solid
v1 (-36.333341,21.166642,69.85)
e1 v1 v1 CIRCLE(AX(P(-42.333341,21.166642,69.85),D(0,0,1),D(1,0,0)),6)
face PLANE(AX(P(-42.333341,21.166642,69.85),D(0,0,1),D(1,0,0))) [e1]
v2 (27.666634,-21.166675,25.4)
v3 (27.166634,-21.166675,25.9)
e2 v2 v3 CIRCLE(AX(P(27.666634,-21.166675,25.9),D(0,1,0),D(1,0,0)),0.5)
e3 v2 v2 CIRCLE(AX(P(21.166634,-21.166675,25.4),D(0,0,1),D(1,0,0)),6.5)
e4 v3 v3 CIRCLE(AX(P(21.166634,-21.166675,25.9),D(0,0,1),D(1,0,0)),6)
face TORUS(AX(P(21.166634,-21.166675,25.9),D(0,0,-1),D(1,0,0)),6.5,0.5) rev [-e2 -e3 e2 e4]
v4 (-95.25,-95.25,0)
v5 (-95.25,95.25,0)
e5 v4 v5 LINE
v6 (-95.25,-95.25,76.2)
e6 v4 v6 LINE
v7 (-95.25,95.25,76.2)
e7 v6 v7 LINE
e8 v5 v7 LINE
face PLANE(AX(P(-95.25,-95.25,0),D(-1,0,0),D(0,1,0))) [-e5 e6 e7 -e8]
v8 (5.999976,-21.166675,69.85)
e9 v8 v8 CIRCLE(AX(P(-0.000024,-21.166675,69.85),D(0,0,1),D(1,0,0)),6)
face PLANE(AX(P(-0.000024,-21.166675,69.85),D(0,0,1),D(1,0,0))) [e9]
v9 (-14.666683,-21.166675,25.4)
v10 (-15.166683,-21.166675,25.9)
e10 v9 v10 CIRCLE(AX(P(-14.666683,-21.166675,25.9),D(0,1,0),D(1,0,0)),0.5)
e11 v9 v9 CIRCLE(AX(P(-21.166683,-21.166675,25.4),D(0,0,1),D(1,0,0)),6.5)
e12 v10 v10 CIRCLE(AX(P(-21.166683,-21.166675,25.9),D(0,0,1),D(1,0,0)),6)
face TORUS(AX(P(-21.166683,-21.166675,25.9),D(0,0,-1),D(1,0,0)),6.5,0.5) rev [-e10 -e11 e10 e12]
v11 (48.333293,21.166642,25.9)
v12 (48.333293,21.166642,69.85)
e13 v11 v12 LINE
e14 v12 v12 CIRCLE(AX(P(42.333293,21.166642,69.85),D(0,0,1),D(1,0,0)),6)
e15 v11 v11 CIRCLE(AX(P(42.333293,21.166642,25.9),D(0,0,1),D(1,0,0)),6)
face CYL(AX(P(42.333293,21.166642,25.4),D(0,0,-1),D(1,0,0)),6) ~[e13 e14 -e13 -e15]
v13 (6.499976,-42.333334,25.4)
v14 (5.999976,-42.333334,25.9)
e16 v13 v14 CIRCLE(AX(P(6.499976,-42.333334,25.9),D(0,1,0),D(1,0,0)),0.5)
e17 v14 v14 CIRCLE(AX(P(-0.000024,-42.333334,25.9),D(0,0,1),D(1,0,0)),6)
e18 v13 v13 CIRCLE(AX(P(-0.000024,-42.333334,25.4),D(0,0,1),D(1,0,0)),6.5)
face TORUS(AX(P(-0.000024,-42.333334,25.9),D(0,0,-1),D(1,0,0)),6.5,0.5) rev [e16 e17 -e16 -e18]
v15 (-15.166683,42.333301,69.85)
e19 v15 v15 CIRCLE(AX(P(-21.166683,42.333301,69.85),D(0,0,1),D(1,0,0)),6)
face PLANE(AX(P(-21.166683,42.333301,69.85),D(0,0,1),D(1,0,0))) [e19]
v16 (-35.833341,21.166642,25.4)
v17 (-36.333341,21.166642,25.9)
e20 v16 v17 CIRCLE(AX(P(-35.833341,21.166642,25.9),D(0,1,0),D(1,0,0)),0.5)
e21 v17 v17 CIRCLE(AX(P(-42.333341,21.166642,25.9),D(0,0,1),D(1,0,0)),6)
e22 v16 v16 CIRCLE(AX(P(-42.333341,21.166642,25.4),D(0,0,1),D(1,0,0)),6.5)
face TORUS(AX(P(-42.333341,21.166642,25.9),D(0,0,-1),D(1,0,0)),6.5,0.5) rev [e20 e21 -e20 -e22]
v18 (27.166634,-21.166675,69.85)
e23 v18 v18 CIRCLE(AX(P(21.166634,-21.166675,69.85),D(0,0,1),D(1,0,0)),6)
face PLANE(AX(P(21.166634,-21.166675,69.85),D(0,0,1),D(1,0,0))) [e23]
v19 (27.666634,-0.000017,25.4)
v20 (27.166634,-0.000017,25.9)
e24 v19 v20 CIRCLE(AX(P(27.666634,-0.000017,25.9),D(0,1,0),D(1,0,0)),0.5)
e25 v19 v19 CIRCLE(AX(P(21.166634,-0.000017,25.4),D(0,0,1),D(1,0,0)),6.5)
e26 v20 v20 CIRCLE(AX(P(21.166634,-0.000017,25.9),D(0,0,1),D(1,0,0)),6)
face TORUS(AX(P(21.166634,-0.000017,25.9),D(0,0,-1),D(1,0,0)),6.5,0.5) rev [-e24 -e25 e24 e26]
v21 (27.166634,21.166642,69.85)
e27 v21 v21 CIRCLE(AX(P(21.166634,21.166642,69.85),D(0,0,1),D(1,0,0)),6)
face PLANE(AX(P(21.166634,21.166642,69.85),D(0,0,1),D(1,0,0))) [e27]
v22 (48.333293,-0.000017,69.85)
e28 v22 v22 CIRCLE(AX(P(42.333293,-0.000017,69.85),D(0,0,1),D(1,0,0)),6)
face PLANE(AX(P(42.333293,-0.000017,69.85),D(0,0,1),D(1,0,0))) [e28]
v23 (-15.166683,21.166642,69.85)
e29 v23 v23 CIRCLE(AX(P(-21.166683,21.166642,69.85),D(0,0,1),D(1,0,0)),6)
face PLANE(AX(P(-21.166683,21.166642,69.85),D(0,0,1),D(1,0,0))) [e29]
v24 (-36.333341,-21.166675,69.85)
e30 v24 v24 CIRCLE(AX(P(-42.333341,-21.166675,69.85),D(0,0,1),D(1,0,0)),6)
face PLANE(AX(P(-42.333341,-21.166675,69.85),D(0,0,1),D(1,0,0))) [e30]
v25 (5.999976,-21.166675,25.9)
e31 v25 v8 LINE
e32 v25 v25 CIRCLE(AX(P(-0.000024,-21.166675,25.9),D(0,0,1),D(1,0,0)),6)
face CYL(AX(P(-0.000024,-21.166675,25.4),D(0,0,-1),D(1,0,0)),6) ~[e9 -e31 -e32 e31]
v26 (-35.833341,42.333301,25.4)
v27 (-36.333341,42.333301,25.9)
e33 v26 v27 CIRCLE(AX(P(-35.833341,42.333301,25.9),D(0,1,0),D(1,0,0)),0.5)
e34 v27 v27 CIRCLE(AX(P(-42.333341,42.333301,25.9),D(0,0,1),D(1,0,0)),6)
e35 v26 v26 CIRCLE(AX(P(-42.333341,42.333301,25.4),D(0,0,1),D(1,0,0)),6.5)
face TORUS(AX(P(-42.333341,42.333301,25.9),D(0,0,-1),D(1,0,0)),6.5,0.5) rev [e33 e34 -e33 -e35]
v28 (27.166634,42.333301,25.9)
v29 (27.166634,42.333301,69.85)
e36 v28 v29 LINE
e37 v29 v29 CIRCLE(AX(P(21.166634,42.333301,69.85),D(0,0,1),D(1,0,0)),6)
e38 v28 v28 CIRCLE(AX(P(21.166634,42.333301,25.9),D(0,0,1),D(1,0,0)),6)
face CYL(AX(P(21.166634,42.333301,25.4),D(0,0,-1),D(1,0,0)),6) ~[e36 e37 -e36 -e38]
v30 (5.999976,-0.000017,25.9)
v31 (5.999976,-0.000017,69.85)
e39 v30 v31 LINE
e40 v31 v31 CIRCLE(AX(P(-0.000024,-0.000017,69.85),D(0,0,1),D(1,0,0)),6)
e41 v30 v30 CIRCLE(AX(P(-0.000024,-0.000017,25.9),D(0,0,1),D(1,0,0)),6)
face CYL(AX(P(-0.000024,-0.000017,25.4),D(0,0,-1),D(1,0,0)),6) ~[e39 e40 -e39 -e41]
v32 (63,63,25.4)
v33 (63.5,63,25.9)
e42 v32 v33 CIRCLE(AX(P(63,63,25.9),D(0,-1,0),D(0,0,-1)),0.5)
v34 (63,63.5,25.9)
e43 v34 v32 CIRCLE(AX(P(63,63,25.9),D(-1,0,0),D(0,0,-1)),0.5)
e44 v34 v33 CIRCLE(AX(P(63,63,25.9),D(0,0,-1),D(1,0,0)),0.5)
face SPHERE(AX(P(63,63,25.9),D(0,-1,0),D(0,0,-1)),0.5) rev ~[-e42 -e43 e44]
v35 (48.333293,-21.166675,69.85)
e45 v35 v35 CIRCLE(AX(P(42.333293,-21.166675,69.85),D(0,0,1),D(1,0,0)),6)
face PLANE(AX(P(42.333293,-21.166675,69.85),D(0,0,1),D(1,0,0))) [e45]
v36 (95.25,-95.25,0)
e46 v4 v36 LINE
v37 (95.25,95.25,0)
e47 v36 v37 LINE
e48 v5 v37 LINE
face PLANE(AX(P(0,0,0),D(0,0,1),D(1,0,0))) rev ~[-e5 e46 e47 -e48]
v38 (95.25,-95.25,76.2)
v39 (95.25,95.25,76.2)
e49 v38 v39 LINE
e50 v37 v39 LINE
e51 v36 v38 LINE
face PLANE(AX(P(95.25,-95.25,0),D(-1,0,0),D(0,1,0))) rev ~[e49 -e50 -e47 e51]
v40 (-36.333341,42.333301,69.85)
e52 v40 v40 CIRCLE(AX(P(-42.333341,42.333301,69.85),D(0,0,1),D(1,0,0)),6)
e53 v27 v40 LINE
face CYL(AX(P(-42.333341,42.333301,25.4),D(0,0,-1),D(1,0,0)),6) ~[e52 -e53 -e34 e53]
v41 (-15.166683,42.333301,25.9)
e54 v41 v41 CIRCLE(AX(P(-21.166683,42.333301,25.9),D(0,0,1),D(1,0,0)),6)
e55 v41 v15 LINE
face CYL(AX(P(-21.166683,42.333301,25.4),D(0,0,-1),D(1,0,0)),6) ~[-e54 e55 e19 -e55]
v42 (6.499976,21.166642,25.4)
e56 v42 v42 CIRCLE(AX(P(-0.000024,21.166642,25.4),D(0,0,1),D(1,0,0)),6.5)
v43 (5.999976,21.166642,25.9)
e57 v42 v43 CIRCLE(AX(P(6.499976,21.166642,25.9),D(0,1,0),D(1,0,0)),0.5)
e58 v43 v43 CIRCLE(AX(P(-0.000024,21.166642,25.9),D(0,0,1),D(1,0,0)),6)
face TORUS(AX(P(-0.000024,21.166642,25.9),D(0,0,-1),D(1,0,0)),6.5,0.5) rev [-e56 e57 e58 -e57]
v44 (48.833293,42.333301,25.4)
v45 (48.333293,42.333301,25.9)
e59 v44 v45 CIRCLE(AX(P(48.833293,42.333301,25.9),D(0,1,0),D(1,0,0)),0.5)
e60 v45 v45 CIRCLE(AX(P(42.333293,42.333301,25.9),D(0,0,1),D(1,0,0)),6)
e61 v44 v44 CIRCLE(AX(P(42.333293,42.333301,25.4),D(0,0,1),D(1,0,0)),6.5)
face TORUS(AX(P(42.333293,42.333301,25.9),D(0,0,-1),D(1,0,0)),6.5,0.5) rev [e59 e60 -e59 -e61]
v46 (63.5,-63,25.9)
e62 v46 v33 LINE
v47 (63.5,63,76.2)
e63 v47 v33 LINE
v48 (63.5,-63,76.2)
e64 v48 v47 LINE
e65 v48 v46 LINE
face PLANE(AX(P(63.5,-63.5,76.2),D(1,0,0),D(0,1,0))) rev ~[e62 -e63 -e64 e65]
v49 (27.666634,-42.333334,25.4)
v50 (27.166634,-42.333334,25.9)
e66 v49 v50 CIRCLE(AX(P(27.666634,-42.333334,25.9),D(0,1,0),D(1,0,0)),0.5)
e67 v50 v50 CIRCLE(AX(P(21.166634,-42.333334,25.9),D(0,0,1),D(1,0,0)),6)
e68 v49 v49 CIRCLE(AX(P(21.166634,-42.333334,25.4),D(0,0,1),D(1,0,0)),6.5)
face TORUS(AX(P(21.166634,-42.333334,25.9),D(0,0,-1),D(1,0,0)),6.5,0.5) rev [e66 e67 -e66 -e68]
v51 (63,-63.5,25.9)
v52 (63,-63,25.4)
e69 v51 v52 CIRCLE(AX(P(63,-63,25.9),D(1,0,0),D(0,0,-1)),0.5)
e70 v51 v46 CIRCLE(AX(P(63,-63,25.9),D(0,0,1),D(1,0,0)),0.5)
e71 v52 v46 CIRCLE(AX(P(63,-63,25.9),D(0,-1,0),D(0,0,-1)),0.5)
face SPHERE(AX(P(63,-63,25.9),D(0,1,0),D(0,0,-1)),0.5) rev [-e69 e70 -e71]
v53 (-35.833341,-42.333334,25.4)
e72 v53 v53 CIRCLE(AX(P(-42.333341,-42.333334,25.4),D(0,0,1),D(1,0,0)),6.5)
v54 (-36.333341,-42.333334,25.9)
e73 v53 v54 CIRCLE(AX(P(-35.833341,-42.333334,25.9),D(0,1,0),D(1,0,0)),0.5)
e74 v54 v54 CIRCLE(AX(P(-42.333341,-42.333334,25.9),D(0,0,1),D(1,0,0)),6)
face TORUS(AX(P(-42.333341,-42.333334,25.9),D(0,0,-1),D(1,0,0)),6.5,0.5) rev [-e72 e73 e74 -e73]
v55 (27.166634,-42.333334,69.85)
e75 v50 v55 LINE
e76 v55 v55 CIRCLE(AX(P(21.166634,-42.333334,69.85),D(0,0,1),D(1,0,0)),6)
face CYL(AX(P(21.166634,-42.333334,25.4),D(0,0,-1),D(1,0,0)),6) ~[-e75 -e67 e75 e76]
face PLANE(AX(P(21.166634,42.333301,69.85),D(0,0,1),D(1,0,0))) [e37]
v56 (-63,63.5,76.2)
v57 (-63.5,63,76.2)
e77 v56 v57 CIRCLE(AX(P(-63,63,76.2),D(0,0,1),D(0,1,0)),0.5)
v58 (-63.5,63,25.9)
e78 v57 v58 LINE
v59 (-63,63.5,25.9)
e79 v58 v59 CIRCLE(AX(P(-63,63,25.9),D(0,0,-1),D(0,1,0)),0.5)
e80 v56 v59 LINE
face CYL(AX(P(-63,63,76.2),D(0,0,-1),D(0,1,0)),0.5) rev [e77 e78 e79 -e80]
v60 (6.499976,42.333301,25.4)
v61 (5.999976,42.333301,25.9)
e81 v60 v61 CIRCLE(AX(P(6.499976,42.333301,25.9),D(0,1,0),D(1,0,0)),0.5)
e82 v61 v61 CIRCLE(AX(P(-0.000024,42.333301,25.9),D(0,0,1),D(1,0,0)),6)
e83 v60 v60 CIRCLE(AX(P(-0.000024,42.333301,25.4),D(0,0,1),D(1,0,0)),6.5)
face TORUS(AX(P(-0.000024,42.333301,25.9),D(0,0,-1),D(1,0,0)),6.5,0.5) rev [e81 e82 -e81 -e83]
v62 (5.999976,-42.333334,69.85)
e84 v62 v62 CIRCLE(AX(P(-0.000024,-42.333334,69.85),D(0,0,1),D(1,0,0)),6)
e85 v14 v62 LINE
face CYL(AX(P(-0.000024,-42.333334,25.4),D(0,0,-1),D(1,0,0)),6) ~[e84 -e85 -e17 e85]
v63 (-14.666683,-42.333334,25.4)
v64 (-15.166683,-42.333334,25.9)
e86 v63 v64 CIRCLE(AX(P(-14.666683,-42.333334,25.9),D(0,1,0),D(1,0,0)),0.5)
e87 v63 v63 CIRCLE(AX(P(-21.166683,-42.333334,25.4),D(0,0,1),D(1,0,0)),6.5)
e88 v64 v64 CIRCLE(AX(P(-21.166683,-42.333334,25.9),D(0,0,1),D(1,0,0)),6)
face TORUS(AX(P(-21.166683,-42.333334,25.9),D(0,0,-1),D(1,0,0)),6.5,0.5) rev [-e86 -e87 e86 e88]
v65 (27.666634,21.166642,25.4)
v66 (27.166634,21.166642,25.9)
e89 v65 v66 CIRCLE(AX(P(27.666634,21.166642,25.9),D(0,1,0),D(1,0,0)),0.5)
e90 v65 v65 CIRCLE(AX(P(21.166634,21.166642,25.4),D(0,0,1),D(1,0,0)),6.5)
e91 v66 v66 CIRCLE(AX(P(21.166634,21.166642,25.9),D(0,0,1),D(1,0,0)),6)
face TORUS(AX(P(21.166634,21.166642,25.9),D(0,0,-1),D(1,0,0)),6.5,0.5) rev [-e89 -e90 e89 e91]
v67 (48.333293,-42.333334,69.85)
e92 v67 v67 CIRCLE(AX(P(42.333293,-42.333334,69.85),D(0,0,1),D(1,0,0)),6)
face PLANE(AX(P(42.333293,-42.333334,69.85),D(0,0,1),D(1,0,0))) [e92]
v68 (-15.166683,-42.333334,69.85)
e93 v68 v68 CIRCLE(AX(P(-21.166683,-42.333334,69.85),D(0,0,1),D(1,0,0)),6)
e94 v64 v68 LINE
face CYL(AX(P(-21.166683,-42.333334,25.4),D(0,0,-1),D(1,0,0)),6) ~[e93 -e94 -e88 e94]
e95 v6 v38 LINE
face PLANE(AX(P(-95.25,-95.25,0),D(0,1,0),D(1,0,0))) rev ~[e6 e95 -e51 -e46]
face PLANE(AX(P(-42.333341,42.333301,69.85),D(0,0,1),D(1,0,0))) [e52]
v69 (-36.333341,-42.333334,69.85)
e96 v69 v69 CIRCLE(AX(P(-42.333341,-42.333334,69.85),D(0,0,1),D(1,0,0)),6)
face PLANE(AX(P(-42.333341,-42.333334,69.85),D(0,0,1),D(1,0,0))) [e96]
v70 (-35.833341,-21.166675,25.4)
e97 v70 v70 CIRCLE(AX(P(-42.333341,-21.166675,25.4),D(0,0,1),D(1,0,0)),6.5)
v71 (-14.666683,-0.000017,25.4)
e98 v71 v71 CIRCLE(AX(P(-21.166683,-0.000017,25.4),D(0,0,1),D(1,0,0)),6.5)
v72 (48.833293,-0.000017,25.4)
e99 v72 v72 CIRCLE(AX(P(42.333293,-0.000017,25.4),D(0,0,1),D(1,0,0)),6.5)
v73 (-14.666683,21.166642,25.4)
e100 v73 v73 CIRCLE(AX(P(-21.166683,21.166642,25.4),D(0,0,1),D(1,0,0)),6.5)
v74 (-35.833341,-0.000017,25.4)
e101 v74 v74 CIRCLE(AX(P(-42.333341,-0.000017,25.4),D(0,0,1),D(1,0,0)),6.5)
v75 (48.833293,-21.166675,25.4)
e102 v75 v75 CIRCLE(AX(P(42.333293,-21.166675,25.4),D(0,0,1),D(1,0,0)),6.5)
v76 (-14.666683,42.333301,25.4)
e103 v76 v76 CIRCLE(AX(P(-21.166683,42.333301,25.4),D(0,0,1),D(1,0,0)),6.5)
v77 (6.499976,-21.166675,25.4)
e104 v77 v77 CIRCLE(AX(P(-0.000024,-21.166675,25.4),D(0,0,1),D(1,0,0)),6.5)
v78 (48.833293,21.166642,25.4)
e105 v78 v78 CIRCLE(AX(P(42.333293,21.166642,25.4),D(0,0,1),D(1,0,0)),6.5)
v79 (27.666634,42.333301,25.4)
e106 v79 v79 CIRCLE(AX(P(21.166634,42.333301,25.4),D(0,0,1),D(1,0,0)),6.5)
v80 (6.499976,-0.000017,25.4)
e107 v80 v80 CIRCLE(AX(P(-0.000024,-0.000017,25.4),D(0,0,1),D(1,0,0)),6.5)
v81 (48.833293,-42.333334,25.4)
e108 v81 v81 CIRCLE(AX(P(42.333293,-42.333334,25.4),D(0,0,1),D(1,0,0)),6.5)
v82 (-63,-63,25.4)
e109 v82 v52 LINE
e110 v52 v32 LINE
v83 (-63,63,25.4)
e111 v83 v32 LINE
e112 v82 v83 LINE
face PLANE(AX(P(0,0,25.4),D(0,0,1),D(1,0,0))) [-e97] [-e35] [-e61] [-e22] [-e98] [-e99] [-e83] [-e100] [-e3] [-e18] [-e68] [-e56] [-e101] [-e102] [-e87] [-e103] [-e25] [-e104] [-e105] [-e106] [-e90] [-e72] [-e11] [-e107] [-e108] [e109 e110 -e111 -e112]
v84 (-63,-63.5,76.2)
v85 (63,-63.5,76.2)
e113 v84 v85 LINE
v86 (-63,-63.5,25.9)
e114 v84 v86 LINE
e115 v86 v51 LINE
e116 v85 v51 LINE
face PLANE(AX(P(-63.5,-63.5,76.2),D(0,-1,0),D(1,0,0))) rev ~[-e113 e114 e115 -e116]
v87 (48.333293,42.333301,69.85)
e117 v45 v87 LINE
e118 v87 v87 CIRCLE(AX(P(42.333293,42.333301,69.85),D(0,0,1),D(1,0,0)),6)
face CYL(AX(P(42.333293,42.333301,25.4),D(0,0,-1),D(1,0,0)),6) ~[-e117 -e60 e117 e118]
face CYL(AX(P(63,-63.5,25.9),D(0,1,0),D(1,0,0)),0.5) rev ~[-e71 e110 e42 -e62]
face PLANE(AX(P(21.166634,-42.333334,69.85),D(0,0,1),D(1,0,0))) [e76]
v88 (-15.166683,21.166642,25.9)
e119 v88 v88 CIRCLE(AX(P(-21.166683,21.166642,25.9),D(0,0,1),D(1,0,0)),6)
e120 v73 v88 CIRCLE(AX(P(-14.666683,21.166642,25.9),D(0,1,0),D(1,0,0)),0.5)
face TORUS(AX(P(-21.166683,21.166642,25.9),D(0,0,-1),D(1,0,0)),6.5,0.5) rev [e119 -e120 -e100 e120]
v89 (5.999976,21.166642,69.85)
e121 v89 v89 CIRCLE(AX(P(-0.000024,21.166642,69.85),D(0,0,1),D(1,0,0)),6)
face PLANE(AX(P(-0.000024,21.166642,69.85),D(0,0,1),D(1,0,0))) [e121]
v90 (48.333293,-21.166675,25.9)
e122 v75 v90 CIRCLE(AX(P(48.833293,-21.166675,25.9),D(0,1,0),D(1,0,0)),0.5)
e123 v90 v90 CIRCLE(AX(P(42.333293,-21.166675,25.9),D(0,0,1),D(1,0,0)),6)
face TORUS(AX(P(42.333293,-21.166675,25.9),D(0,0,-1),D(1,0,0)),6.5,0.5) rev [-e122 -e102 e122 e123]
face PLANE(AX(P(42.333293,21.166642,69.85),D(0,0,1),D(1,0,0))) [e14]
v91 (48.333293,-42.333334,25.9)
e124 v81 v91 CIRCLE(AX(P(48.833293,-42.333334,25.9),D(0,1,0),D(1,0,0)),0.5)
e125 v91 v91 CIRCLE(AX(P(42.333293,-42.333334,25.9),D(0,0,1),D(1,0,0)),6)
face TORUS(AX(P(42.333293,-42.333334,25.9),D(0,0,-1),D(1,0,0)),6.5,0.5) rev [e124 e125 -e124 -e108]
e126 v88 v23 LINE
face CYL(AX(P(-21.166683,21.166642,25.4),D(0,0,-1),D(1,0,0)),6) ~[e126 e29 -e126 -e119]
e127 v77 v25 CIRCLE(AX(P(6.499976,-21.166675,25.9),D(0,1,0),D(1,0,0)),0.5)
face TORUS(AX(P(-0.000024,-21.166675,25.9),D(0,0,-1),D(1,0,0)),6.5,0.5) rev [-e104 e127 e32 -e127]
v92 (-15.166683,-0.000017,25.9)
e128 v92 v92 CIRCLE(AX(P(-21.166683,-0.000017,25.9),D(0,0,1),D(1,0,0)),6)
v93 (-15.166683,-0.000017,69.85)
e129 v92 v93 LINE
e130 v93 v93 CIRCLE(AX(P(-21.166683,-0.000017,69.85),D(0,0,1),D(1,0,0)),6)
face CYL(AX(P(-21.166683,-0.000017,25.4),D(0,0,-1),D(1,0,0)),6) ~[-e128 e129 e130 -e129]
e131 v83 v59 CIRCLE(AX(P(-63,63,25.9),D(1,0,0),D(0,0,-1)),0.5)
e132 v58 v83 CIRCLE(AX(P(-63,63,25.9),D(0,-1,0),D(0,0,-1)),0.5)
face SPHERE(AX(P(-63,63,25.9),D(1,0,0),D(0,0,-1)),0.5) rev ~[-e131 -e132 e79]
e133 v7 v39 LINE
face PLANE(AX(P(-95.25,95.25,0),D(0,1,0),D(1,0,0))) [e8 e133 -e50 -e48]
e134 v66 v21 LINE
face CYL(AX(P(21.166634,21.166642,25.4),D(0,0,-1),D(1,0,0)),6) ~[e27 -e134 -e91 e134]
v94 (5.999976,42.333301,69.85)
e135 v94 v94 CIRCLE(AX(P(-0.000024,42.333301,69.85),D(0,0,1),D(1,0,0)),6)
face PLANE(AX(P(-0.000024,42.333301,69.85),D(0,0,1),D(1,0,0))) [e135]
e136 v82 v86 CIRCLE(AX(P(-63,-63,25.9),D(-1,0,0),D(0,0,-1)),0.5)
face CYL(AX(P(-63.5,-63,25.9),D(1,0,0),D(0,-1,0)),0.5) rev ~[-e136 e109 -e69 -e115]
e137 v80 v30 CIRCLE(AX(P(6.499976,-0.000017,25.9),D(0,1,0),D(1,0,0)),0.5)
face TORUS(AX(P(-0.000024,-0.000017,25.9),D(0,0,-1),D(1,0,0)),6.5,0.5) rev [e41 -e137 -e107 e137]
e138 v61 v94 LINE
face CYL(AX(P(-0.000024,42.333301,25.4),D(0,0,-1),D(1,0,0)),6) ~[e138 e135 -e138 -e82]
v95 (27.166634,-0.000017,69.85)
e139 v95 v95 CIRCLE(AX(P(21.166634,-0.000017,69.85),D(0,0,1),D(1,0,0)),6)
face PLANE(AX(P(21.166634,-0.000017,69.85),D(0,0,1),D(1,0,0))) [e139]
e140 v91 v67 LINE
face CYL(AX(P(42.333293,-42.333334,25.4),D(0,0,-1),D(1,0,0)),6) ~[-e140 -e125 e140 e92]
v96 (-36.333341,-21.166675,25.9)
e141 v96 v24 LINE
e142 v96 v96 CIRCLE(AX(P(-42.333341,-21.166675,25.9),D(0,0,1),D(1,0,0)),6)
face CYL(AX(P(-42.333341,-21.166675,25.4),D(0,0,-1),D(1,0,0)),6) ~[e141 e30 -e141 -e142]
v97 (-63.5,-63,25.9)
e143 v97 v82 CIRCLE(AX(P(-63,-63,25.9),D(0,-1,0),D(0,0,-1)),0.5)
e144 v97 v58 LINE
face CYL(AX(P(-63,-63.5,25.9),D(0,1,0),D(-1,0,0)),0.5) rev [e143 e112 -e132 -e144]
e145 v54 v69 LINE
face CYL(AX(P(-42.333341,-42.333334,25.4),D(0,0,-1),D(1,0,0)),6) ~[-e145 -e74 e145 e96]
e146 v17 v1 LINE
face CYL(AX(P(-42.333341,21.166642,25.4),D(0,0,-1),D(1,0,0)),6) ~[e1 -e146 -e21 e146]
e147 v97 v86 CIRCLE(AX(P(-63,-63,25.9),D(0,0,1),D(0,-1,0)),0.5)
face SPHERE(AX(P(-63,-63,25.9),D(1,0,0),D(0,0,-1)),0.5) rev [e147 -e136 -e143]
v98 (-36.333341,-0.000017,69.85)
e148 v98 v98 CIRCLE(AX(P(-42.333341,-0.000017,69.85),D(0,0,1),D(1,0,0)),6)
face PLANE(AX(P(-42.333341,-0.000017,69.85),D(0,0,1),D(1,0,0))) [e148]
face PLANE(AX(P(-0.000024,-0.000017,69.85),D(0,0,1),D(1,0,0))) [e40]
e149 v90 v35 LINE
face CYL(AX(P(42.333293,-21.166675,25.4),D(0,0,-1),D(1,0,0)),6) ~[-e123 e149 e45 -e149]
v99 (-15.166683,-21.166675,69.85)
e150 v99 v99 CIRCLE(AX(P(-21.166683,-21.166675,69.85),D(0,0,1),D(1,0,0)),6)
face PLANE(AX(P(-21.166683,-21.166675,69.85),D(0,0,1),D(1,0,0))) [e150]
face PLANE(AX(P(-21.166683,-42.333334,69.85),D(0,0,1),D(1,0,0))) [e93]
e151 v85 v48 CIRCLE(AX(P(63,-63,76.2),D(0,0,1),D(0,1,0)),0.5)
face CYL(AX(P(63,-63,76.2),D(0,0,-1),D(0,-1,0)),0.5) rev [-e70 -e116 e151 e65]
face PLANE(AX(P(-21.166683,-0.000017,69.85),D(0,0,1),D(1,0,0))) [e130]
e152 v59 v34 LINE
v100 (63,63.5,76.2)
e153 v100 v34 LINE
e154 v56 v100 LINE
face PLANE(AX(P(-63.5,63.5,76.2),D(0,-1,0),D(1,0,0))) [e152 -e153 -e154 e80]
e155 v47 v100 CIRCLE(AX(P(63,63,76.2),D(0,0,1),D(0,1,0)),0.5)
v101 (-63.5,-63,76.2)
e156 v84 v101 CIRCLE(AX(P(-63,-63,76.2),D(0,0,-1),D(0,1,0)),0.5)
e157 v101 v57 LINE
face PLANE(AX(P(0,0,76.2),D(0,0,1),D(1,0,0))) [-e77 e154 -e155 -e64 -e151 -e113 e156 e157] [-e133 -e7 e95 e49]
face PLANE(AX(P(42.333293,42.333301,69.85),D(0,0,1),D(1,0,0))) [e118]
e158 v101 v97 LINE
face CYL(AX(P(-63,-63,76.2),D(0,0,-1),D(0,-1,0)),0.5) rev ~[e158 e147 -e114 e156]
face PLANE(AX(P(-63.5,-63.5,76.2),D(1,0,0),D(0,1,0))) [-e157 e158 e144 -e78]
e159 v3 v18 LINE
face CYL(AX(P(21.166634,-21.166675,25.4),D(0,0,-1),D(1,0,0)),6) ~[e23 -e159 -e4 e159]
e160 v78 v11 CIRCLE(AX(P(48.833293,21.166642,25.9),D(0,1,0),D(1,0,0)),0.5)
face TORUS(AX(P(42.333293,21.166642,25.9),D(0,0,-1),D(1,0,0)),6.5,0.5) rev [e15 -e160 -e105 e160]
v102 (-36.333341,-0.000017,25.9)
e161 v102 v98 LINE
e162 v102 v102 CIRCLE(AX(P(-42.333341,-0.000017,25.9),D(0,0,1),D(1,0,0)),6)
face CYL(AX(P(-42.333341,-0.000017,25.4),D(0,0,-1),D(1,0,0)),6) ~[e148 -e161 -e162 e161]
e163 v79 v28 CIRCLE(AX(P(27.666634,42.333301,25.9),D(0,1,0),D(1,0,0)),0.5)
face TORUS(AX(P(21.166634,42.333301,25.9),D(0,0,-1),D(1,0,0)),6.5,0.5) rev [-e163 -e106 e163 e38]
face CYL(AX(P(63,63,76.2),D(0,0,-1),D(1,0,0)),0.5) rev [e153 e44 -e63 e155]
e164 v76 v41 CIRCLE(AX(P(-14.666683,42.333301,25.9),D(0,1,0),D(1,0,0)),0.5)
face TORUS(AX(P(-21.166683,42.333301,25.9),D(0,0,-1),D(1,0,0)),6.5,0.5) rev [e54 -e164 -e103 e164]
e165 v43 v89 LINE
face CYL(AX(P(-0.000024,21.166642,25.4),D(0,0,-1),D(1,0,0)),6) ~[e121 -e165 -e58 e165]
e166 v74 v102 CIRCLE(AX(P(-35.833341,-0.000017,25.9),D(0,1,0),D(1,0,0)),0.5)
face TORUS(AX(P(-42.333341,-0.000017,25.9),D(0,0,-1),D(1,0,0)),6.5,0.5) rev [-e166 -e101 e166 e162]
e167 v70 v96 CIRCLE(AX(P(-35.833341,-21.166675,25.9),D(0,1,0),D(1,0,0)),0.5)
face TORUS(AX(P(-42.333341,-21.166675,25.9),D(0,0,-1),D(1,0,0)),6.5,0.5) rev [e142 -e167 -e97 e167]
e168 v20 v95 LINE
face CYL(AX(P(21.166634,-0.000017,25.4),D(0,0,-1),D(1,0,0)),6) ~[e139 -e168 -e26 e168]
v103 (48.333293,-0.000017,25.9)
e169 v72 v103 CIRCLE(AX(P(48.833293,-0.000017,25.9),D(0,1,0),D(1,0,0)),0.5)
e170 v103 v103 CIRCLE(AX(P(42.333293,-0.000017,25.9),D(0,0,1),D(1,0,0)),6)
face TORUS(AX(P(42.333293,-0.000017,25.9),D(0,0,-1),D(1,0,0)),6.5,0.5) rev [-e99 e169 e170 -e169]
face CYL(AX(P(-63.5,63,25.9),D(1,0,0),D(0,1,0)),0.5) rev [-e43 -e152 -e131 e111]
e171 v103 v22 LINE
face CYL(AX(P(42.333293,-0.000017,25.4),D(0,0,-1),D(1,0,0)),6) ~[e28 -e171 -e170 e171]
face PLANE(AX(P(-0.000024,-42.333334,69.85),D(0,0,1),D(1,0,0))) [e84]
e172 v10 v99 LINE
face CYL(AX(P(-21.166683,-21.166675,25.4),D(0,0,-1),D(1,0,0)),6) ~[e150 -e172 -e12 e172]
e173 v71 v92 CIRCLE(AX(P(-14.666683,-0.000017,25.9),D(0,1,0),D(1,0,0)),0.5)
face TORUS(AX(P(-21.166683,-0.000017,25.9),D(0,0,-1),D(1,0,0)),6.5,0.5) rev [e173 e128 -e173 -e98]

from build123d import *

# Parameters (mm, degrees)
F0_W     = 190.5
F0_H     = 190.5
F1_DEPTH = 76.2
F2_W     = 127
F2_H     = 127
F3_DEPTH = 50.8
F4_R     = 6
F5_DEPTH = 44.45
F6_R     = 0.5


with BuildPart() as f1:
    # F0 (on Top) → F1 (new body)
    with BuildSketch(Plane.XY):
        Rectangle(F0_W, F0_H)
    extrude(amount=F1_DEPTH)

    # F2 (on face) → F3 (cut)
    with BuildSketch(Plane.XY.offset(76.2)):
        Rectangle(F2_W, F2_H)
    extrude(amount=-F3_DEPTH, mode=Mode.SUBTRACT)

    # F4 (on face) → F5 (join)
    with BuildSketch(Plane.XY.offset(25.4)):
        with Locations((-42.3333414078, -42.333333838)):
            Circle(F4_R)
        with Locations((-42.3333414078, -21.1666752458)):
            Circle(F4_R)
        with Locations((-42.3333414078, -1.66535e-05)):
            Circle(F4_R)
        with Locations((-42.3333414078, 21.1666419387)):
            Circle(F4_R)
        with Locations((-42.3333414078, 42.3333005309)):
            Circle(F4_R)
        with Locations((-21.1666828156, -42.333333838)):
            Circle(F4_R)
        with Locations((-21.1666828156, -21.1666752458)):
            Circle(F4_R)
        with Locations((-21.1666828156, -1.66535e-05)):
            Circle(F4_R)
        with Locations((-21.1666828156, 21.1666419387)):
            Circle(F4_R)
        with Locations((-21.1666828156, 42.3333005309)):
            Circle(F4_R)
        with Locations((-2.42233e-05, -42.333333838)):
            Circle(F4_R)
        with Locations((-2.42233e-05, -21.1666752458)):
            Circle(F4_R)
        with Locations((-2.42233e-05, -1.66535e-05)):
            Circle(F4_R)
        with Locations((-2.42233e-05, 21.1666419387)):
            Circle(F4_R)
        with Locations((-2.42233e-05, 42.3333005309)):
            Circle(F4_R)
        with Locations((21.1666343689, -42.333333838)):
            Circle(F4_R)
        with Locations((21.1666343689, -21.1666752458)):
            Circle(F4_R)
        with Locations((21.1666343689, -1.66535e-05)):
            Circle(F4_R)
        with Locations((21.1666343689, 21.1666419387)):
            Circle(F4_R)
        with Locations((21.1666343689, 42.3333005309)):
            Circle(F4_R)
        with Locations((42.3332929611, -42.333333838)):
            Circle(F4_R)
        with Locations((42.3332929611, -21.1666752458)):
            Circle(F4_R)
        with Locations((42.3332929611, -1.66535e-05)):
            Circle(F4_R)
        with Locations((42.3332929611, 21.1666419387)):
            Circle(F4_R)
        with Locations((42.3332929611, 42.3333005309)):
            Circle(F4_R)
    extrude(amount=F5_DEPTH)

    # F6
    f6_edges = [f1.edges().sort_by_distance(p)[0] for p in [
        (63.5, 0, 25.4),
        (0, -63.5, 25.4),
        (0, 63.5, 25.4),
        (-63.5, 0, 25.4),
        (-48.333341, -42.333334, 25.4),
        (-27.166683, -42.333334, 25.4),
        (-48.333341, -21.166675, 25.4),
        (-27.166683, -21.166675, 25.4),
        (-6.000024, -42.333334, 25.4),
        (15.166634, -42.333334, 25.4),
        (36.333293, -42.333334, 25.4),
        (-6.000024, -21.166675, 25.4),
        (15.166634, -21.166675, 25.4),
        (36.333293, -21.166675, 25.4),
        (-48.333341, -1.7e-05, 25.4),
        (-48.333341, 21.166642, 25.4),
        (-27.166683, -1.7e-05, 25.4),
        (-27.166683, 21.166642, 25.4),
        (-48.333341, 42.333301, 25.4),
        (-27.166683, 42.333301, 25.4),
        (-6.000024, -1.7e-05, 25.4),
        (15.166634, -1.7e-05, 25.4),
        (-6.000024, 21.166642, 25.4),
        (15.166634, 21.166642, 25.4),
        (36.333293, -1.7e-05, 25.4),
        (36.333293, 21.166642, 25.4),
        (-6.000024, 42.333301, 25.4),
        (15.166634, 42.333301, 25.4),
        (36.333293, 42.333301, 25.4),
        (63.5, 63.5, 50.8),
        (-63.5, 63.5, 50.8),
        (-63.5, -63.5, 50.8),
        (63.5, -63.5, 50.8),
    ]]
    fillet(f6_edges, radius=F6_R)


solid = f1.part
